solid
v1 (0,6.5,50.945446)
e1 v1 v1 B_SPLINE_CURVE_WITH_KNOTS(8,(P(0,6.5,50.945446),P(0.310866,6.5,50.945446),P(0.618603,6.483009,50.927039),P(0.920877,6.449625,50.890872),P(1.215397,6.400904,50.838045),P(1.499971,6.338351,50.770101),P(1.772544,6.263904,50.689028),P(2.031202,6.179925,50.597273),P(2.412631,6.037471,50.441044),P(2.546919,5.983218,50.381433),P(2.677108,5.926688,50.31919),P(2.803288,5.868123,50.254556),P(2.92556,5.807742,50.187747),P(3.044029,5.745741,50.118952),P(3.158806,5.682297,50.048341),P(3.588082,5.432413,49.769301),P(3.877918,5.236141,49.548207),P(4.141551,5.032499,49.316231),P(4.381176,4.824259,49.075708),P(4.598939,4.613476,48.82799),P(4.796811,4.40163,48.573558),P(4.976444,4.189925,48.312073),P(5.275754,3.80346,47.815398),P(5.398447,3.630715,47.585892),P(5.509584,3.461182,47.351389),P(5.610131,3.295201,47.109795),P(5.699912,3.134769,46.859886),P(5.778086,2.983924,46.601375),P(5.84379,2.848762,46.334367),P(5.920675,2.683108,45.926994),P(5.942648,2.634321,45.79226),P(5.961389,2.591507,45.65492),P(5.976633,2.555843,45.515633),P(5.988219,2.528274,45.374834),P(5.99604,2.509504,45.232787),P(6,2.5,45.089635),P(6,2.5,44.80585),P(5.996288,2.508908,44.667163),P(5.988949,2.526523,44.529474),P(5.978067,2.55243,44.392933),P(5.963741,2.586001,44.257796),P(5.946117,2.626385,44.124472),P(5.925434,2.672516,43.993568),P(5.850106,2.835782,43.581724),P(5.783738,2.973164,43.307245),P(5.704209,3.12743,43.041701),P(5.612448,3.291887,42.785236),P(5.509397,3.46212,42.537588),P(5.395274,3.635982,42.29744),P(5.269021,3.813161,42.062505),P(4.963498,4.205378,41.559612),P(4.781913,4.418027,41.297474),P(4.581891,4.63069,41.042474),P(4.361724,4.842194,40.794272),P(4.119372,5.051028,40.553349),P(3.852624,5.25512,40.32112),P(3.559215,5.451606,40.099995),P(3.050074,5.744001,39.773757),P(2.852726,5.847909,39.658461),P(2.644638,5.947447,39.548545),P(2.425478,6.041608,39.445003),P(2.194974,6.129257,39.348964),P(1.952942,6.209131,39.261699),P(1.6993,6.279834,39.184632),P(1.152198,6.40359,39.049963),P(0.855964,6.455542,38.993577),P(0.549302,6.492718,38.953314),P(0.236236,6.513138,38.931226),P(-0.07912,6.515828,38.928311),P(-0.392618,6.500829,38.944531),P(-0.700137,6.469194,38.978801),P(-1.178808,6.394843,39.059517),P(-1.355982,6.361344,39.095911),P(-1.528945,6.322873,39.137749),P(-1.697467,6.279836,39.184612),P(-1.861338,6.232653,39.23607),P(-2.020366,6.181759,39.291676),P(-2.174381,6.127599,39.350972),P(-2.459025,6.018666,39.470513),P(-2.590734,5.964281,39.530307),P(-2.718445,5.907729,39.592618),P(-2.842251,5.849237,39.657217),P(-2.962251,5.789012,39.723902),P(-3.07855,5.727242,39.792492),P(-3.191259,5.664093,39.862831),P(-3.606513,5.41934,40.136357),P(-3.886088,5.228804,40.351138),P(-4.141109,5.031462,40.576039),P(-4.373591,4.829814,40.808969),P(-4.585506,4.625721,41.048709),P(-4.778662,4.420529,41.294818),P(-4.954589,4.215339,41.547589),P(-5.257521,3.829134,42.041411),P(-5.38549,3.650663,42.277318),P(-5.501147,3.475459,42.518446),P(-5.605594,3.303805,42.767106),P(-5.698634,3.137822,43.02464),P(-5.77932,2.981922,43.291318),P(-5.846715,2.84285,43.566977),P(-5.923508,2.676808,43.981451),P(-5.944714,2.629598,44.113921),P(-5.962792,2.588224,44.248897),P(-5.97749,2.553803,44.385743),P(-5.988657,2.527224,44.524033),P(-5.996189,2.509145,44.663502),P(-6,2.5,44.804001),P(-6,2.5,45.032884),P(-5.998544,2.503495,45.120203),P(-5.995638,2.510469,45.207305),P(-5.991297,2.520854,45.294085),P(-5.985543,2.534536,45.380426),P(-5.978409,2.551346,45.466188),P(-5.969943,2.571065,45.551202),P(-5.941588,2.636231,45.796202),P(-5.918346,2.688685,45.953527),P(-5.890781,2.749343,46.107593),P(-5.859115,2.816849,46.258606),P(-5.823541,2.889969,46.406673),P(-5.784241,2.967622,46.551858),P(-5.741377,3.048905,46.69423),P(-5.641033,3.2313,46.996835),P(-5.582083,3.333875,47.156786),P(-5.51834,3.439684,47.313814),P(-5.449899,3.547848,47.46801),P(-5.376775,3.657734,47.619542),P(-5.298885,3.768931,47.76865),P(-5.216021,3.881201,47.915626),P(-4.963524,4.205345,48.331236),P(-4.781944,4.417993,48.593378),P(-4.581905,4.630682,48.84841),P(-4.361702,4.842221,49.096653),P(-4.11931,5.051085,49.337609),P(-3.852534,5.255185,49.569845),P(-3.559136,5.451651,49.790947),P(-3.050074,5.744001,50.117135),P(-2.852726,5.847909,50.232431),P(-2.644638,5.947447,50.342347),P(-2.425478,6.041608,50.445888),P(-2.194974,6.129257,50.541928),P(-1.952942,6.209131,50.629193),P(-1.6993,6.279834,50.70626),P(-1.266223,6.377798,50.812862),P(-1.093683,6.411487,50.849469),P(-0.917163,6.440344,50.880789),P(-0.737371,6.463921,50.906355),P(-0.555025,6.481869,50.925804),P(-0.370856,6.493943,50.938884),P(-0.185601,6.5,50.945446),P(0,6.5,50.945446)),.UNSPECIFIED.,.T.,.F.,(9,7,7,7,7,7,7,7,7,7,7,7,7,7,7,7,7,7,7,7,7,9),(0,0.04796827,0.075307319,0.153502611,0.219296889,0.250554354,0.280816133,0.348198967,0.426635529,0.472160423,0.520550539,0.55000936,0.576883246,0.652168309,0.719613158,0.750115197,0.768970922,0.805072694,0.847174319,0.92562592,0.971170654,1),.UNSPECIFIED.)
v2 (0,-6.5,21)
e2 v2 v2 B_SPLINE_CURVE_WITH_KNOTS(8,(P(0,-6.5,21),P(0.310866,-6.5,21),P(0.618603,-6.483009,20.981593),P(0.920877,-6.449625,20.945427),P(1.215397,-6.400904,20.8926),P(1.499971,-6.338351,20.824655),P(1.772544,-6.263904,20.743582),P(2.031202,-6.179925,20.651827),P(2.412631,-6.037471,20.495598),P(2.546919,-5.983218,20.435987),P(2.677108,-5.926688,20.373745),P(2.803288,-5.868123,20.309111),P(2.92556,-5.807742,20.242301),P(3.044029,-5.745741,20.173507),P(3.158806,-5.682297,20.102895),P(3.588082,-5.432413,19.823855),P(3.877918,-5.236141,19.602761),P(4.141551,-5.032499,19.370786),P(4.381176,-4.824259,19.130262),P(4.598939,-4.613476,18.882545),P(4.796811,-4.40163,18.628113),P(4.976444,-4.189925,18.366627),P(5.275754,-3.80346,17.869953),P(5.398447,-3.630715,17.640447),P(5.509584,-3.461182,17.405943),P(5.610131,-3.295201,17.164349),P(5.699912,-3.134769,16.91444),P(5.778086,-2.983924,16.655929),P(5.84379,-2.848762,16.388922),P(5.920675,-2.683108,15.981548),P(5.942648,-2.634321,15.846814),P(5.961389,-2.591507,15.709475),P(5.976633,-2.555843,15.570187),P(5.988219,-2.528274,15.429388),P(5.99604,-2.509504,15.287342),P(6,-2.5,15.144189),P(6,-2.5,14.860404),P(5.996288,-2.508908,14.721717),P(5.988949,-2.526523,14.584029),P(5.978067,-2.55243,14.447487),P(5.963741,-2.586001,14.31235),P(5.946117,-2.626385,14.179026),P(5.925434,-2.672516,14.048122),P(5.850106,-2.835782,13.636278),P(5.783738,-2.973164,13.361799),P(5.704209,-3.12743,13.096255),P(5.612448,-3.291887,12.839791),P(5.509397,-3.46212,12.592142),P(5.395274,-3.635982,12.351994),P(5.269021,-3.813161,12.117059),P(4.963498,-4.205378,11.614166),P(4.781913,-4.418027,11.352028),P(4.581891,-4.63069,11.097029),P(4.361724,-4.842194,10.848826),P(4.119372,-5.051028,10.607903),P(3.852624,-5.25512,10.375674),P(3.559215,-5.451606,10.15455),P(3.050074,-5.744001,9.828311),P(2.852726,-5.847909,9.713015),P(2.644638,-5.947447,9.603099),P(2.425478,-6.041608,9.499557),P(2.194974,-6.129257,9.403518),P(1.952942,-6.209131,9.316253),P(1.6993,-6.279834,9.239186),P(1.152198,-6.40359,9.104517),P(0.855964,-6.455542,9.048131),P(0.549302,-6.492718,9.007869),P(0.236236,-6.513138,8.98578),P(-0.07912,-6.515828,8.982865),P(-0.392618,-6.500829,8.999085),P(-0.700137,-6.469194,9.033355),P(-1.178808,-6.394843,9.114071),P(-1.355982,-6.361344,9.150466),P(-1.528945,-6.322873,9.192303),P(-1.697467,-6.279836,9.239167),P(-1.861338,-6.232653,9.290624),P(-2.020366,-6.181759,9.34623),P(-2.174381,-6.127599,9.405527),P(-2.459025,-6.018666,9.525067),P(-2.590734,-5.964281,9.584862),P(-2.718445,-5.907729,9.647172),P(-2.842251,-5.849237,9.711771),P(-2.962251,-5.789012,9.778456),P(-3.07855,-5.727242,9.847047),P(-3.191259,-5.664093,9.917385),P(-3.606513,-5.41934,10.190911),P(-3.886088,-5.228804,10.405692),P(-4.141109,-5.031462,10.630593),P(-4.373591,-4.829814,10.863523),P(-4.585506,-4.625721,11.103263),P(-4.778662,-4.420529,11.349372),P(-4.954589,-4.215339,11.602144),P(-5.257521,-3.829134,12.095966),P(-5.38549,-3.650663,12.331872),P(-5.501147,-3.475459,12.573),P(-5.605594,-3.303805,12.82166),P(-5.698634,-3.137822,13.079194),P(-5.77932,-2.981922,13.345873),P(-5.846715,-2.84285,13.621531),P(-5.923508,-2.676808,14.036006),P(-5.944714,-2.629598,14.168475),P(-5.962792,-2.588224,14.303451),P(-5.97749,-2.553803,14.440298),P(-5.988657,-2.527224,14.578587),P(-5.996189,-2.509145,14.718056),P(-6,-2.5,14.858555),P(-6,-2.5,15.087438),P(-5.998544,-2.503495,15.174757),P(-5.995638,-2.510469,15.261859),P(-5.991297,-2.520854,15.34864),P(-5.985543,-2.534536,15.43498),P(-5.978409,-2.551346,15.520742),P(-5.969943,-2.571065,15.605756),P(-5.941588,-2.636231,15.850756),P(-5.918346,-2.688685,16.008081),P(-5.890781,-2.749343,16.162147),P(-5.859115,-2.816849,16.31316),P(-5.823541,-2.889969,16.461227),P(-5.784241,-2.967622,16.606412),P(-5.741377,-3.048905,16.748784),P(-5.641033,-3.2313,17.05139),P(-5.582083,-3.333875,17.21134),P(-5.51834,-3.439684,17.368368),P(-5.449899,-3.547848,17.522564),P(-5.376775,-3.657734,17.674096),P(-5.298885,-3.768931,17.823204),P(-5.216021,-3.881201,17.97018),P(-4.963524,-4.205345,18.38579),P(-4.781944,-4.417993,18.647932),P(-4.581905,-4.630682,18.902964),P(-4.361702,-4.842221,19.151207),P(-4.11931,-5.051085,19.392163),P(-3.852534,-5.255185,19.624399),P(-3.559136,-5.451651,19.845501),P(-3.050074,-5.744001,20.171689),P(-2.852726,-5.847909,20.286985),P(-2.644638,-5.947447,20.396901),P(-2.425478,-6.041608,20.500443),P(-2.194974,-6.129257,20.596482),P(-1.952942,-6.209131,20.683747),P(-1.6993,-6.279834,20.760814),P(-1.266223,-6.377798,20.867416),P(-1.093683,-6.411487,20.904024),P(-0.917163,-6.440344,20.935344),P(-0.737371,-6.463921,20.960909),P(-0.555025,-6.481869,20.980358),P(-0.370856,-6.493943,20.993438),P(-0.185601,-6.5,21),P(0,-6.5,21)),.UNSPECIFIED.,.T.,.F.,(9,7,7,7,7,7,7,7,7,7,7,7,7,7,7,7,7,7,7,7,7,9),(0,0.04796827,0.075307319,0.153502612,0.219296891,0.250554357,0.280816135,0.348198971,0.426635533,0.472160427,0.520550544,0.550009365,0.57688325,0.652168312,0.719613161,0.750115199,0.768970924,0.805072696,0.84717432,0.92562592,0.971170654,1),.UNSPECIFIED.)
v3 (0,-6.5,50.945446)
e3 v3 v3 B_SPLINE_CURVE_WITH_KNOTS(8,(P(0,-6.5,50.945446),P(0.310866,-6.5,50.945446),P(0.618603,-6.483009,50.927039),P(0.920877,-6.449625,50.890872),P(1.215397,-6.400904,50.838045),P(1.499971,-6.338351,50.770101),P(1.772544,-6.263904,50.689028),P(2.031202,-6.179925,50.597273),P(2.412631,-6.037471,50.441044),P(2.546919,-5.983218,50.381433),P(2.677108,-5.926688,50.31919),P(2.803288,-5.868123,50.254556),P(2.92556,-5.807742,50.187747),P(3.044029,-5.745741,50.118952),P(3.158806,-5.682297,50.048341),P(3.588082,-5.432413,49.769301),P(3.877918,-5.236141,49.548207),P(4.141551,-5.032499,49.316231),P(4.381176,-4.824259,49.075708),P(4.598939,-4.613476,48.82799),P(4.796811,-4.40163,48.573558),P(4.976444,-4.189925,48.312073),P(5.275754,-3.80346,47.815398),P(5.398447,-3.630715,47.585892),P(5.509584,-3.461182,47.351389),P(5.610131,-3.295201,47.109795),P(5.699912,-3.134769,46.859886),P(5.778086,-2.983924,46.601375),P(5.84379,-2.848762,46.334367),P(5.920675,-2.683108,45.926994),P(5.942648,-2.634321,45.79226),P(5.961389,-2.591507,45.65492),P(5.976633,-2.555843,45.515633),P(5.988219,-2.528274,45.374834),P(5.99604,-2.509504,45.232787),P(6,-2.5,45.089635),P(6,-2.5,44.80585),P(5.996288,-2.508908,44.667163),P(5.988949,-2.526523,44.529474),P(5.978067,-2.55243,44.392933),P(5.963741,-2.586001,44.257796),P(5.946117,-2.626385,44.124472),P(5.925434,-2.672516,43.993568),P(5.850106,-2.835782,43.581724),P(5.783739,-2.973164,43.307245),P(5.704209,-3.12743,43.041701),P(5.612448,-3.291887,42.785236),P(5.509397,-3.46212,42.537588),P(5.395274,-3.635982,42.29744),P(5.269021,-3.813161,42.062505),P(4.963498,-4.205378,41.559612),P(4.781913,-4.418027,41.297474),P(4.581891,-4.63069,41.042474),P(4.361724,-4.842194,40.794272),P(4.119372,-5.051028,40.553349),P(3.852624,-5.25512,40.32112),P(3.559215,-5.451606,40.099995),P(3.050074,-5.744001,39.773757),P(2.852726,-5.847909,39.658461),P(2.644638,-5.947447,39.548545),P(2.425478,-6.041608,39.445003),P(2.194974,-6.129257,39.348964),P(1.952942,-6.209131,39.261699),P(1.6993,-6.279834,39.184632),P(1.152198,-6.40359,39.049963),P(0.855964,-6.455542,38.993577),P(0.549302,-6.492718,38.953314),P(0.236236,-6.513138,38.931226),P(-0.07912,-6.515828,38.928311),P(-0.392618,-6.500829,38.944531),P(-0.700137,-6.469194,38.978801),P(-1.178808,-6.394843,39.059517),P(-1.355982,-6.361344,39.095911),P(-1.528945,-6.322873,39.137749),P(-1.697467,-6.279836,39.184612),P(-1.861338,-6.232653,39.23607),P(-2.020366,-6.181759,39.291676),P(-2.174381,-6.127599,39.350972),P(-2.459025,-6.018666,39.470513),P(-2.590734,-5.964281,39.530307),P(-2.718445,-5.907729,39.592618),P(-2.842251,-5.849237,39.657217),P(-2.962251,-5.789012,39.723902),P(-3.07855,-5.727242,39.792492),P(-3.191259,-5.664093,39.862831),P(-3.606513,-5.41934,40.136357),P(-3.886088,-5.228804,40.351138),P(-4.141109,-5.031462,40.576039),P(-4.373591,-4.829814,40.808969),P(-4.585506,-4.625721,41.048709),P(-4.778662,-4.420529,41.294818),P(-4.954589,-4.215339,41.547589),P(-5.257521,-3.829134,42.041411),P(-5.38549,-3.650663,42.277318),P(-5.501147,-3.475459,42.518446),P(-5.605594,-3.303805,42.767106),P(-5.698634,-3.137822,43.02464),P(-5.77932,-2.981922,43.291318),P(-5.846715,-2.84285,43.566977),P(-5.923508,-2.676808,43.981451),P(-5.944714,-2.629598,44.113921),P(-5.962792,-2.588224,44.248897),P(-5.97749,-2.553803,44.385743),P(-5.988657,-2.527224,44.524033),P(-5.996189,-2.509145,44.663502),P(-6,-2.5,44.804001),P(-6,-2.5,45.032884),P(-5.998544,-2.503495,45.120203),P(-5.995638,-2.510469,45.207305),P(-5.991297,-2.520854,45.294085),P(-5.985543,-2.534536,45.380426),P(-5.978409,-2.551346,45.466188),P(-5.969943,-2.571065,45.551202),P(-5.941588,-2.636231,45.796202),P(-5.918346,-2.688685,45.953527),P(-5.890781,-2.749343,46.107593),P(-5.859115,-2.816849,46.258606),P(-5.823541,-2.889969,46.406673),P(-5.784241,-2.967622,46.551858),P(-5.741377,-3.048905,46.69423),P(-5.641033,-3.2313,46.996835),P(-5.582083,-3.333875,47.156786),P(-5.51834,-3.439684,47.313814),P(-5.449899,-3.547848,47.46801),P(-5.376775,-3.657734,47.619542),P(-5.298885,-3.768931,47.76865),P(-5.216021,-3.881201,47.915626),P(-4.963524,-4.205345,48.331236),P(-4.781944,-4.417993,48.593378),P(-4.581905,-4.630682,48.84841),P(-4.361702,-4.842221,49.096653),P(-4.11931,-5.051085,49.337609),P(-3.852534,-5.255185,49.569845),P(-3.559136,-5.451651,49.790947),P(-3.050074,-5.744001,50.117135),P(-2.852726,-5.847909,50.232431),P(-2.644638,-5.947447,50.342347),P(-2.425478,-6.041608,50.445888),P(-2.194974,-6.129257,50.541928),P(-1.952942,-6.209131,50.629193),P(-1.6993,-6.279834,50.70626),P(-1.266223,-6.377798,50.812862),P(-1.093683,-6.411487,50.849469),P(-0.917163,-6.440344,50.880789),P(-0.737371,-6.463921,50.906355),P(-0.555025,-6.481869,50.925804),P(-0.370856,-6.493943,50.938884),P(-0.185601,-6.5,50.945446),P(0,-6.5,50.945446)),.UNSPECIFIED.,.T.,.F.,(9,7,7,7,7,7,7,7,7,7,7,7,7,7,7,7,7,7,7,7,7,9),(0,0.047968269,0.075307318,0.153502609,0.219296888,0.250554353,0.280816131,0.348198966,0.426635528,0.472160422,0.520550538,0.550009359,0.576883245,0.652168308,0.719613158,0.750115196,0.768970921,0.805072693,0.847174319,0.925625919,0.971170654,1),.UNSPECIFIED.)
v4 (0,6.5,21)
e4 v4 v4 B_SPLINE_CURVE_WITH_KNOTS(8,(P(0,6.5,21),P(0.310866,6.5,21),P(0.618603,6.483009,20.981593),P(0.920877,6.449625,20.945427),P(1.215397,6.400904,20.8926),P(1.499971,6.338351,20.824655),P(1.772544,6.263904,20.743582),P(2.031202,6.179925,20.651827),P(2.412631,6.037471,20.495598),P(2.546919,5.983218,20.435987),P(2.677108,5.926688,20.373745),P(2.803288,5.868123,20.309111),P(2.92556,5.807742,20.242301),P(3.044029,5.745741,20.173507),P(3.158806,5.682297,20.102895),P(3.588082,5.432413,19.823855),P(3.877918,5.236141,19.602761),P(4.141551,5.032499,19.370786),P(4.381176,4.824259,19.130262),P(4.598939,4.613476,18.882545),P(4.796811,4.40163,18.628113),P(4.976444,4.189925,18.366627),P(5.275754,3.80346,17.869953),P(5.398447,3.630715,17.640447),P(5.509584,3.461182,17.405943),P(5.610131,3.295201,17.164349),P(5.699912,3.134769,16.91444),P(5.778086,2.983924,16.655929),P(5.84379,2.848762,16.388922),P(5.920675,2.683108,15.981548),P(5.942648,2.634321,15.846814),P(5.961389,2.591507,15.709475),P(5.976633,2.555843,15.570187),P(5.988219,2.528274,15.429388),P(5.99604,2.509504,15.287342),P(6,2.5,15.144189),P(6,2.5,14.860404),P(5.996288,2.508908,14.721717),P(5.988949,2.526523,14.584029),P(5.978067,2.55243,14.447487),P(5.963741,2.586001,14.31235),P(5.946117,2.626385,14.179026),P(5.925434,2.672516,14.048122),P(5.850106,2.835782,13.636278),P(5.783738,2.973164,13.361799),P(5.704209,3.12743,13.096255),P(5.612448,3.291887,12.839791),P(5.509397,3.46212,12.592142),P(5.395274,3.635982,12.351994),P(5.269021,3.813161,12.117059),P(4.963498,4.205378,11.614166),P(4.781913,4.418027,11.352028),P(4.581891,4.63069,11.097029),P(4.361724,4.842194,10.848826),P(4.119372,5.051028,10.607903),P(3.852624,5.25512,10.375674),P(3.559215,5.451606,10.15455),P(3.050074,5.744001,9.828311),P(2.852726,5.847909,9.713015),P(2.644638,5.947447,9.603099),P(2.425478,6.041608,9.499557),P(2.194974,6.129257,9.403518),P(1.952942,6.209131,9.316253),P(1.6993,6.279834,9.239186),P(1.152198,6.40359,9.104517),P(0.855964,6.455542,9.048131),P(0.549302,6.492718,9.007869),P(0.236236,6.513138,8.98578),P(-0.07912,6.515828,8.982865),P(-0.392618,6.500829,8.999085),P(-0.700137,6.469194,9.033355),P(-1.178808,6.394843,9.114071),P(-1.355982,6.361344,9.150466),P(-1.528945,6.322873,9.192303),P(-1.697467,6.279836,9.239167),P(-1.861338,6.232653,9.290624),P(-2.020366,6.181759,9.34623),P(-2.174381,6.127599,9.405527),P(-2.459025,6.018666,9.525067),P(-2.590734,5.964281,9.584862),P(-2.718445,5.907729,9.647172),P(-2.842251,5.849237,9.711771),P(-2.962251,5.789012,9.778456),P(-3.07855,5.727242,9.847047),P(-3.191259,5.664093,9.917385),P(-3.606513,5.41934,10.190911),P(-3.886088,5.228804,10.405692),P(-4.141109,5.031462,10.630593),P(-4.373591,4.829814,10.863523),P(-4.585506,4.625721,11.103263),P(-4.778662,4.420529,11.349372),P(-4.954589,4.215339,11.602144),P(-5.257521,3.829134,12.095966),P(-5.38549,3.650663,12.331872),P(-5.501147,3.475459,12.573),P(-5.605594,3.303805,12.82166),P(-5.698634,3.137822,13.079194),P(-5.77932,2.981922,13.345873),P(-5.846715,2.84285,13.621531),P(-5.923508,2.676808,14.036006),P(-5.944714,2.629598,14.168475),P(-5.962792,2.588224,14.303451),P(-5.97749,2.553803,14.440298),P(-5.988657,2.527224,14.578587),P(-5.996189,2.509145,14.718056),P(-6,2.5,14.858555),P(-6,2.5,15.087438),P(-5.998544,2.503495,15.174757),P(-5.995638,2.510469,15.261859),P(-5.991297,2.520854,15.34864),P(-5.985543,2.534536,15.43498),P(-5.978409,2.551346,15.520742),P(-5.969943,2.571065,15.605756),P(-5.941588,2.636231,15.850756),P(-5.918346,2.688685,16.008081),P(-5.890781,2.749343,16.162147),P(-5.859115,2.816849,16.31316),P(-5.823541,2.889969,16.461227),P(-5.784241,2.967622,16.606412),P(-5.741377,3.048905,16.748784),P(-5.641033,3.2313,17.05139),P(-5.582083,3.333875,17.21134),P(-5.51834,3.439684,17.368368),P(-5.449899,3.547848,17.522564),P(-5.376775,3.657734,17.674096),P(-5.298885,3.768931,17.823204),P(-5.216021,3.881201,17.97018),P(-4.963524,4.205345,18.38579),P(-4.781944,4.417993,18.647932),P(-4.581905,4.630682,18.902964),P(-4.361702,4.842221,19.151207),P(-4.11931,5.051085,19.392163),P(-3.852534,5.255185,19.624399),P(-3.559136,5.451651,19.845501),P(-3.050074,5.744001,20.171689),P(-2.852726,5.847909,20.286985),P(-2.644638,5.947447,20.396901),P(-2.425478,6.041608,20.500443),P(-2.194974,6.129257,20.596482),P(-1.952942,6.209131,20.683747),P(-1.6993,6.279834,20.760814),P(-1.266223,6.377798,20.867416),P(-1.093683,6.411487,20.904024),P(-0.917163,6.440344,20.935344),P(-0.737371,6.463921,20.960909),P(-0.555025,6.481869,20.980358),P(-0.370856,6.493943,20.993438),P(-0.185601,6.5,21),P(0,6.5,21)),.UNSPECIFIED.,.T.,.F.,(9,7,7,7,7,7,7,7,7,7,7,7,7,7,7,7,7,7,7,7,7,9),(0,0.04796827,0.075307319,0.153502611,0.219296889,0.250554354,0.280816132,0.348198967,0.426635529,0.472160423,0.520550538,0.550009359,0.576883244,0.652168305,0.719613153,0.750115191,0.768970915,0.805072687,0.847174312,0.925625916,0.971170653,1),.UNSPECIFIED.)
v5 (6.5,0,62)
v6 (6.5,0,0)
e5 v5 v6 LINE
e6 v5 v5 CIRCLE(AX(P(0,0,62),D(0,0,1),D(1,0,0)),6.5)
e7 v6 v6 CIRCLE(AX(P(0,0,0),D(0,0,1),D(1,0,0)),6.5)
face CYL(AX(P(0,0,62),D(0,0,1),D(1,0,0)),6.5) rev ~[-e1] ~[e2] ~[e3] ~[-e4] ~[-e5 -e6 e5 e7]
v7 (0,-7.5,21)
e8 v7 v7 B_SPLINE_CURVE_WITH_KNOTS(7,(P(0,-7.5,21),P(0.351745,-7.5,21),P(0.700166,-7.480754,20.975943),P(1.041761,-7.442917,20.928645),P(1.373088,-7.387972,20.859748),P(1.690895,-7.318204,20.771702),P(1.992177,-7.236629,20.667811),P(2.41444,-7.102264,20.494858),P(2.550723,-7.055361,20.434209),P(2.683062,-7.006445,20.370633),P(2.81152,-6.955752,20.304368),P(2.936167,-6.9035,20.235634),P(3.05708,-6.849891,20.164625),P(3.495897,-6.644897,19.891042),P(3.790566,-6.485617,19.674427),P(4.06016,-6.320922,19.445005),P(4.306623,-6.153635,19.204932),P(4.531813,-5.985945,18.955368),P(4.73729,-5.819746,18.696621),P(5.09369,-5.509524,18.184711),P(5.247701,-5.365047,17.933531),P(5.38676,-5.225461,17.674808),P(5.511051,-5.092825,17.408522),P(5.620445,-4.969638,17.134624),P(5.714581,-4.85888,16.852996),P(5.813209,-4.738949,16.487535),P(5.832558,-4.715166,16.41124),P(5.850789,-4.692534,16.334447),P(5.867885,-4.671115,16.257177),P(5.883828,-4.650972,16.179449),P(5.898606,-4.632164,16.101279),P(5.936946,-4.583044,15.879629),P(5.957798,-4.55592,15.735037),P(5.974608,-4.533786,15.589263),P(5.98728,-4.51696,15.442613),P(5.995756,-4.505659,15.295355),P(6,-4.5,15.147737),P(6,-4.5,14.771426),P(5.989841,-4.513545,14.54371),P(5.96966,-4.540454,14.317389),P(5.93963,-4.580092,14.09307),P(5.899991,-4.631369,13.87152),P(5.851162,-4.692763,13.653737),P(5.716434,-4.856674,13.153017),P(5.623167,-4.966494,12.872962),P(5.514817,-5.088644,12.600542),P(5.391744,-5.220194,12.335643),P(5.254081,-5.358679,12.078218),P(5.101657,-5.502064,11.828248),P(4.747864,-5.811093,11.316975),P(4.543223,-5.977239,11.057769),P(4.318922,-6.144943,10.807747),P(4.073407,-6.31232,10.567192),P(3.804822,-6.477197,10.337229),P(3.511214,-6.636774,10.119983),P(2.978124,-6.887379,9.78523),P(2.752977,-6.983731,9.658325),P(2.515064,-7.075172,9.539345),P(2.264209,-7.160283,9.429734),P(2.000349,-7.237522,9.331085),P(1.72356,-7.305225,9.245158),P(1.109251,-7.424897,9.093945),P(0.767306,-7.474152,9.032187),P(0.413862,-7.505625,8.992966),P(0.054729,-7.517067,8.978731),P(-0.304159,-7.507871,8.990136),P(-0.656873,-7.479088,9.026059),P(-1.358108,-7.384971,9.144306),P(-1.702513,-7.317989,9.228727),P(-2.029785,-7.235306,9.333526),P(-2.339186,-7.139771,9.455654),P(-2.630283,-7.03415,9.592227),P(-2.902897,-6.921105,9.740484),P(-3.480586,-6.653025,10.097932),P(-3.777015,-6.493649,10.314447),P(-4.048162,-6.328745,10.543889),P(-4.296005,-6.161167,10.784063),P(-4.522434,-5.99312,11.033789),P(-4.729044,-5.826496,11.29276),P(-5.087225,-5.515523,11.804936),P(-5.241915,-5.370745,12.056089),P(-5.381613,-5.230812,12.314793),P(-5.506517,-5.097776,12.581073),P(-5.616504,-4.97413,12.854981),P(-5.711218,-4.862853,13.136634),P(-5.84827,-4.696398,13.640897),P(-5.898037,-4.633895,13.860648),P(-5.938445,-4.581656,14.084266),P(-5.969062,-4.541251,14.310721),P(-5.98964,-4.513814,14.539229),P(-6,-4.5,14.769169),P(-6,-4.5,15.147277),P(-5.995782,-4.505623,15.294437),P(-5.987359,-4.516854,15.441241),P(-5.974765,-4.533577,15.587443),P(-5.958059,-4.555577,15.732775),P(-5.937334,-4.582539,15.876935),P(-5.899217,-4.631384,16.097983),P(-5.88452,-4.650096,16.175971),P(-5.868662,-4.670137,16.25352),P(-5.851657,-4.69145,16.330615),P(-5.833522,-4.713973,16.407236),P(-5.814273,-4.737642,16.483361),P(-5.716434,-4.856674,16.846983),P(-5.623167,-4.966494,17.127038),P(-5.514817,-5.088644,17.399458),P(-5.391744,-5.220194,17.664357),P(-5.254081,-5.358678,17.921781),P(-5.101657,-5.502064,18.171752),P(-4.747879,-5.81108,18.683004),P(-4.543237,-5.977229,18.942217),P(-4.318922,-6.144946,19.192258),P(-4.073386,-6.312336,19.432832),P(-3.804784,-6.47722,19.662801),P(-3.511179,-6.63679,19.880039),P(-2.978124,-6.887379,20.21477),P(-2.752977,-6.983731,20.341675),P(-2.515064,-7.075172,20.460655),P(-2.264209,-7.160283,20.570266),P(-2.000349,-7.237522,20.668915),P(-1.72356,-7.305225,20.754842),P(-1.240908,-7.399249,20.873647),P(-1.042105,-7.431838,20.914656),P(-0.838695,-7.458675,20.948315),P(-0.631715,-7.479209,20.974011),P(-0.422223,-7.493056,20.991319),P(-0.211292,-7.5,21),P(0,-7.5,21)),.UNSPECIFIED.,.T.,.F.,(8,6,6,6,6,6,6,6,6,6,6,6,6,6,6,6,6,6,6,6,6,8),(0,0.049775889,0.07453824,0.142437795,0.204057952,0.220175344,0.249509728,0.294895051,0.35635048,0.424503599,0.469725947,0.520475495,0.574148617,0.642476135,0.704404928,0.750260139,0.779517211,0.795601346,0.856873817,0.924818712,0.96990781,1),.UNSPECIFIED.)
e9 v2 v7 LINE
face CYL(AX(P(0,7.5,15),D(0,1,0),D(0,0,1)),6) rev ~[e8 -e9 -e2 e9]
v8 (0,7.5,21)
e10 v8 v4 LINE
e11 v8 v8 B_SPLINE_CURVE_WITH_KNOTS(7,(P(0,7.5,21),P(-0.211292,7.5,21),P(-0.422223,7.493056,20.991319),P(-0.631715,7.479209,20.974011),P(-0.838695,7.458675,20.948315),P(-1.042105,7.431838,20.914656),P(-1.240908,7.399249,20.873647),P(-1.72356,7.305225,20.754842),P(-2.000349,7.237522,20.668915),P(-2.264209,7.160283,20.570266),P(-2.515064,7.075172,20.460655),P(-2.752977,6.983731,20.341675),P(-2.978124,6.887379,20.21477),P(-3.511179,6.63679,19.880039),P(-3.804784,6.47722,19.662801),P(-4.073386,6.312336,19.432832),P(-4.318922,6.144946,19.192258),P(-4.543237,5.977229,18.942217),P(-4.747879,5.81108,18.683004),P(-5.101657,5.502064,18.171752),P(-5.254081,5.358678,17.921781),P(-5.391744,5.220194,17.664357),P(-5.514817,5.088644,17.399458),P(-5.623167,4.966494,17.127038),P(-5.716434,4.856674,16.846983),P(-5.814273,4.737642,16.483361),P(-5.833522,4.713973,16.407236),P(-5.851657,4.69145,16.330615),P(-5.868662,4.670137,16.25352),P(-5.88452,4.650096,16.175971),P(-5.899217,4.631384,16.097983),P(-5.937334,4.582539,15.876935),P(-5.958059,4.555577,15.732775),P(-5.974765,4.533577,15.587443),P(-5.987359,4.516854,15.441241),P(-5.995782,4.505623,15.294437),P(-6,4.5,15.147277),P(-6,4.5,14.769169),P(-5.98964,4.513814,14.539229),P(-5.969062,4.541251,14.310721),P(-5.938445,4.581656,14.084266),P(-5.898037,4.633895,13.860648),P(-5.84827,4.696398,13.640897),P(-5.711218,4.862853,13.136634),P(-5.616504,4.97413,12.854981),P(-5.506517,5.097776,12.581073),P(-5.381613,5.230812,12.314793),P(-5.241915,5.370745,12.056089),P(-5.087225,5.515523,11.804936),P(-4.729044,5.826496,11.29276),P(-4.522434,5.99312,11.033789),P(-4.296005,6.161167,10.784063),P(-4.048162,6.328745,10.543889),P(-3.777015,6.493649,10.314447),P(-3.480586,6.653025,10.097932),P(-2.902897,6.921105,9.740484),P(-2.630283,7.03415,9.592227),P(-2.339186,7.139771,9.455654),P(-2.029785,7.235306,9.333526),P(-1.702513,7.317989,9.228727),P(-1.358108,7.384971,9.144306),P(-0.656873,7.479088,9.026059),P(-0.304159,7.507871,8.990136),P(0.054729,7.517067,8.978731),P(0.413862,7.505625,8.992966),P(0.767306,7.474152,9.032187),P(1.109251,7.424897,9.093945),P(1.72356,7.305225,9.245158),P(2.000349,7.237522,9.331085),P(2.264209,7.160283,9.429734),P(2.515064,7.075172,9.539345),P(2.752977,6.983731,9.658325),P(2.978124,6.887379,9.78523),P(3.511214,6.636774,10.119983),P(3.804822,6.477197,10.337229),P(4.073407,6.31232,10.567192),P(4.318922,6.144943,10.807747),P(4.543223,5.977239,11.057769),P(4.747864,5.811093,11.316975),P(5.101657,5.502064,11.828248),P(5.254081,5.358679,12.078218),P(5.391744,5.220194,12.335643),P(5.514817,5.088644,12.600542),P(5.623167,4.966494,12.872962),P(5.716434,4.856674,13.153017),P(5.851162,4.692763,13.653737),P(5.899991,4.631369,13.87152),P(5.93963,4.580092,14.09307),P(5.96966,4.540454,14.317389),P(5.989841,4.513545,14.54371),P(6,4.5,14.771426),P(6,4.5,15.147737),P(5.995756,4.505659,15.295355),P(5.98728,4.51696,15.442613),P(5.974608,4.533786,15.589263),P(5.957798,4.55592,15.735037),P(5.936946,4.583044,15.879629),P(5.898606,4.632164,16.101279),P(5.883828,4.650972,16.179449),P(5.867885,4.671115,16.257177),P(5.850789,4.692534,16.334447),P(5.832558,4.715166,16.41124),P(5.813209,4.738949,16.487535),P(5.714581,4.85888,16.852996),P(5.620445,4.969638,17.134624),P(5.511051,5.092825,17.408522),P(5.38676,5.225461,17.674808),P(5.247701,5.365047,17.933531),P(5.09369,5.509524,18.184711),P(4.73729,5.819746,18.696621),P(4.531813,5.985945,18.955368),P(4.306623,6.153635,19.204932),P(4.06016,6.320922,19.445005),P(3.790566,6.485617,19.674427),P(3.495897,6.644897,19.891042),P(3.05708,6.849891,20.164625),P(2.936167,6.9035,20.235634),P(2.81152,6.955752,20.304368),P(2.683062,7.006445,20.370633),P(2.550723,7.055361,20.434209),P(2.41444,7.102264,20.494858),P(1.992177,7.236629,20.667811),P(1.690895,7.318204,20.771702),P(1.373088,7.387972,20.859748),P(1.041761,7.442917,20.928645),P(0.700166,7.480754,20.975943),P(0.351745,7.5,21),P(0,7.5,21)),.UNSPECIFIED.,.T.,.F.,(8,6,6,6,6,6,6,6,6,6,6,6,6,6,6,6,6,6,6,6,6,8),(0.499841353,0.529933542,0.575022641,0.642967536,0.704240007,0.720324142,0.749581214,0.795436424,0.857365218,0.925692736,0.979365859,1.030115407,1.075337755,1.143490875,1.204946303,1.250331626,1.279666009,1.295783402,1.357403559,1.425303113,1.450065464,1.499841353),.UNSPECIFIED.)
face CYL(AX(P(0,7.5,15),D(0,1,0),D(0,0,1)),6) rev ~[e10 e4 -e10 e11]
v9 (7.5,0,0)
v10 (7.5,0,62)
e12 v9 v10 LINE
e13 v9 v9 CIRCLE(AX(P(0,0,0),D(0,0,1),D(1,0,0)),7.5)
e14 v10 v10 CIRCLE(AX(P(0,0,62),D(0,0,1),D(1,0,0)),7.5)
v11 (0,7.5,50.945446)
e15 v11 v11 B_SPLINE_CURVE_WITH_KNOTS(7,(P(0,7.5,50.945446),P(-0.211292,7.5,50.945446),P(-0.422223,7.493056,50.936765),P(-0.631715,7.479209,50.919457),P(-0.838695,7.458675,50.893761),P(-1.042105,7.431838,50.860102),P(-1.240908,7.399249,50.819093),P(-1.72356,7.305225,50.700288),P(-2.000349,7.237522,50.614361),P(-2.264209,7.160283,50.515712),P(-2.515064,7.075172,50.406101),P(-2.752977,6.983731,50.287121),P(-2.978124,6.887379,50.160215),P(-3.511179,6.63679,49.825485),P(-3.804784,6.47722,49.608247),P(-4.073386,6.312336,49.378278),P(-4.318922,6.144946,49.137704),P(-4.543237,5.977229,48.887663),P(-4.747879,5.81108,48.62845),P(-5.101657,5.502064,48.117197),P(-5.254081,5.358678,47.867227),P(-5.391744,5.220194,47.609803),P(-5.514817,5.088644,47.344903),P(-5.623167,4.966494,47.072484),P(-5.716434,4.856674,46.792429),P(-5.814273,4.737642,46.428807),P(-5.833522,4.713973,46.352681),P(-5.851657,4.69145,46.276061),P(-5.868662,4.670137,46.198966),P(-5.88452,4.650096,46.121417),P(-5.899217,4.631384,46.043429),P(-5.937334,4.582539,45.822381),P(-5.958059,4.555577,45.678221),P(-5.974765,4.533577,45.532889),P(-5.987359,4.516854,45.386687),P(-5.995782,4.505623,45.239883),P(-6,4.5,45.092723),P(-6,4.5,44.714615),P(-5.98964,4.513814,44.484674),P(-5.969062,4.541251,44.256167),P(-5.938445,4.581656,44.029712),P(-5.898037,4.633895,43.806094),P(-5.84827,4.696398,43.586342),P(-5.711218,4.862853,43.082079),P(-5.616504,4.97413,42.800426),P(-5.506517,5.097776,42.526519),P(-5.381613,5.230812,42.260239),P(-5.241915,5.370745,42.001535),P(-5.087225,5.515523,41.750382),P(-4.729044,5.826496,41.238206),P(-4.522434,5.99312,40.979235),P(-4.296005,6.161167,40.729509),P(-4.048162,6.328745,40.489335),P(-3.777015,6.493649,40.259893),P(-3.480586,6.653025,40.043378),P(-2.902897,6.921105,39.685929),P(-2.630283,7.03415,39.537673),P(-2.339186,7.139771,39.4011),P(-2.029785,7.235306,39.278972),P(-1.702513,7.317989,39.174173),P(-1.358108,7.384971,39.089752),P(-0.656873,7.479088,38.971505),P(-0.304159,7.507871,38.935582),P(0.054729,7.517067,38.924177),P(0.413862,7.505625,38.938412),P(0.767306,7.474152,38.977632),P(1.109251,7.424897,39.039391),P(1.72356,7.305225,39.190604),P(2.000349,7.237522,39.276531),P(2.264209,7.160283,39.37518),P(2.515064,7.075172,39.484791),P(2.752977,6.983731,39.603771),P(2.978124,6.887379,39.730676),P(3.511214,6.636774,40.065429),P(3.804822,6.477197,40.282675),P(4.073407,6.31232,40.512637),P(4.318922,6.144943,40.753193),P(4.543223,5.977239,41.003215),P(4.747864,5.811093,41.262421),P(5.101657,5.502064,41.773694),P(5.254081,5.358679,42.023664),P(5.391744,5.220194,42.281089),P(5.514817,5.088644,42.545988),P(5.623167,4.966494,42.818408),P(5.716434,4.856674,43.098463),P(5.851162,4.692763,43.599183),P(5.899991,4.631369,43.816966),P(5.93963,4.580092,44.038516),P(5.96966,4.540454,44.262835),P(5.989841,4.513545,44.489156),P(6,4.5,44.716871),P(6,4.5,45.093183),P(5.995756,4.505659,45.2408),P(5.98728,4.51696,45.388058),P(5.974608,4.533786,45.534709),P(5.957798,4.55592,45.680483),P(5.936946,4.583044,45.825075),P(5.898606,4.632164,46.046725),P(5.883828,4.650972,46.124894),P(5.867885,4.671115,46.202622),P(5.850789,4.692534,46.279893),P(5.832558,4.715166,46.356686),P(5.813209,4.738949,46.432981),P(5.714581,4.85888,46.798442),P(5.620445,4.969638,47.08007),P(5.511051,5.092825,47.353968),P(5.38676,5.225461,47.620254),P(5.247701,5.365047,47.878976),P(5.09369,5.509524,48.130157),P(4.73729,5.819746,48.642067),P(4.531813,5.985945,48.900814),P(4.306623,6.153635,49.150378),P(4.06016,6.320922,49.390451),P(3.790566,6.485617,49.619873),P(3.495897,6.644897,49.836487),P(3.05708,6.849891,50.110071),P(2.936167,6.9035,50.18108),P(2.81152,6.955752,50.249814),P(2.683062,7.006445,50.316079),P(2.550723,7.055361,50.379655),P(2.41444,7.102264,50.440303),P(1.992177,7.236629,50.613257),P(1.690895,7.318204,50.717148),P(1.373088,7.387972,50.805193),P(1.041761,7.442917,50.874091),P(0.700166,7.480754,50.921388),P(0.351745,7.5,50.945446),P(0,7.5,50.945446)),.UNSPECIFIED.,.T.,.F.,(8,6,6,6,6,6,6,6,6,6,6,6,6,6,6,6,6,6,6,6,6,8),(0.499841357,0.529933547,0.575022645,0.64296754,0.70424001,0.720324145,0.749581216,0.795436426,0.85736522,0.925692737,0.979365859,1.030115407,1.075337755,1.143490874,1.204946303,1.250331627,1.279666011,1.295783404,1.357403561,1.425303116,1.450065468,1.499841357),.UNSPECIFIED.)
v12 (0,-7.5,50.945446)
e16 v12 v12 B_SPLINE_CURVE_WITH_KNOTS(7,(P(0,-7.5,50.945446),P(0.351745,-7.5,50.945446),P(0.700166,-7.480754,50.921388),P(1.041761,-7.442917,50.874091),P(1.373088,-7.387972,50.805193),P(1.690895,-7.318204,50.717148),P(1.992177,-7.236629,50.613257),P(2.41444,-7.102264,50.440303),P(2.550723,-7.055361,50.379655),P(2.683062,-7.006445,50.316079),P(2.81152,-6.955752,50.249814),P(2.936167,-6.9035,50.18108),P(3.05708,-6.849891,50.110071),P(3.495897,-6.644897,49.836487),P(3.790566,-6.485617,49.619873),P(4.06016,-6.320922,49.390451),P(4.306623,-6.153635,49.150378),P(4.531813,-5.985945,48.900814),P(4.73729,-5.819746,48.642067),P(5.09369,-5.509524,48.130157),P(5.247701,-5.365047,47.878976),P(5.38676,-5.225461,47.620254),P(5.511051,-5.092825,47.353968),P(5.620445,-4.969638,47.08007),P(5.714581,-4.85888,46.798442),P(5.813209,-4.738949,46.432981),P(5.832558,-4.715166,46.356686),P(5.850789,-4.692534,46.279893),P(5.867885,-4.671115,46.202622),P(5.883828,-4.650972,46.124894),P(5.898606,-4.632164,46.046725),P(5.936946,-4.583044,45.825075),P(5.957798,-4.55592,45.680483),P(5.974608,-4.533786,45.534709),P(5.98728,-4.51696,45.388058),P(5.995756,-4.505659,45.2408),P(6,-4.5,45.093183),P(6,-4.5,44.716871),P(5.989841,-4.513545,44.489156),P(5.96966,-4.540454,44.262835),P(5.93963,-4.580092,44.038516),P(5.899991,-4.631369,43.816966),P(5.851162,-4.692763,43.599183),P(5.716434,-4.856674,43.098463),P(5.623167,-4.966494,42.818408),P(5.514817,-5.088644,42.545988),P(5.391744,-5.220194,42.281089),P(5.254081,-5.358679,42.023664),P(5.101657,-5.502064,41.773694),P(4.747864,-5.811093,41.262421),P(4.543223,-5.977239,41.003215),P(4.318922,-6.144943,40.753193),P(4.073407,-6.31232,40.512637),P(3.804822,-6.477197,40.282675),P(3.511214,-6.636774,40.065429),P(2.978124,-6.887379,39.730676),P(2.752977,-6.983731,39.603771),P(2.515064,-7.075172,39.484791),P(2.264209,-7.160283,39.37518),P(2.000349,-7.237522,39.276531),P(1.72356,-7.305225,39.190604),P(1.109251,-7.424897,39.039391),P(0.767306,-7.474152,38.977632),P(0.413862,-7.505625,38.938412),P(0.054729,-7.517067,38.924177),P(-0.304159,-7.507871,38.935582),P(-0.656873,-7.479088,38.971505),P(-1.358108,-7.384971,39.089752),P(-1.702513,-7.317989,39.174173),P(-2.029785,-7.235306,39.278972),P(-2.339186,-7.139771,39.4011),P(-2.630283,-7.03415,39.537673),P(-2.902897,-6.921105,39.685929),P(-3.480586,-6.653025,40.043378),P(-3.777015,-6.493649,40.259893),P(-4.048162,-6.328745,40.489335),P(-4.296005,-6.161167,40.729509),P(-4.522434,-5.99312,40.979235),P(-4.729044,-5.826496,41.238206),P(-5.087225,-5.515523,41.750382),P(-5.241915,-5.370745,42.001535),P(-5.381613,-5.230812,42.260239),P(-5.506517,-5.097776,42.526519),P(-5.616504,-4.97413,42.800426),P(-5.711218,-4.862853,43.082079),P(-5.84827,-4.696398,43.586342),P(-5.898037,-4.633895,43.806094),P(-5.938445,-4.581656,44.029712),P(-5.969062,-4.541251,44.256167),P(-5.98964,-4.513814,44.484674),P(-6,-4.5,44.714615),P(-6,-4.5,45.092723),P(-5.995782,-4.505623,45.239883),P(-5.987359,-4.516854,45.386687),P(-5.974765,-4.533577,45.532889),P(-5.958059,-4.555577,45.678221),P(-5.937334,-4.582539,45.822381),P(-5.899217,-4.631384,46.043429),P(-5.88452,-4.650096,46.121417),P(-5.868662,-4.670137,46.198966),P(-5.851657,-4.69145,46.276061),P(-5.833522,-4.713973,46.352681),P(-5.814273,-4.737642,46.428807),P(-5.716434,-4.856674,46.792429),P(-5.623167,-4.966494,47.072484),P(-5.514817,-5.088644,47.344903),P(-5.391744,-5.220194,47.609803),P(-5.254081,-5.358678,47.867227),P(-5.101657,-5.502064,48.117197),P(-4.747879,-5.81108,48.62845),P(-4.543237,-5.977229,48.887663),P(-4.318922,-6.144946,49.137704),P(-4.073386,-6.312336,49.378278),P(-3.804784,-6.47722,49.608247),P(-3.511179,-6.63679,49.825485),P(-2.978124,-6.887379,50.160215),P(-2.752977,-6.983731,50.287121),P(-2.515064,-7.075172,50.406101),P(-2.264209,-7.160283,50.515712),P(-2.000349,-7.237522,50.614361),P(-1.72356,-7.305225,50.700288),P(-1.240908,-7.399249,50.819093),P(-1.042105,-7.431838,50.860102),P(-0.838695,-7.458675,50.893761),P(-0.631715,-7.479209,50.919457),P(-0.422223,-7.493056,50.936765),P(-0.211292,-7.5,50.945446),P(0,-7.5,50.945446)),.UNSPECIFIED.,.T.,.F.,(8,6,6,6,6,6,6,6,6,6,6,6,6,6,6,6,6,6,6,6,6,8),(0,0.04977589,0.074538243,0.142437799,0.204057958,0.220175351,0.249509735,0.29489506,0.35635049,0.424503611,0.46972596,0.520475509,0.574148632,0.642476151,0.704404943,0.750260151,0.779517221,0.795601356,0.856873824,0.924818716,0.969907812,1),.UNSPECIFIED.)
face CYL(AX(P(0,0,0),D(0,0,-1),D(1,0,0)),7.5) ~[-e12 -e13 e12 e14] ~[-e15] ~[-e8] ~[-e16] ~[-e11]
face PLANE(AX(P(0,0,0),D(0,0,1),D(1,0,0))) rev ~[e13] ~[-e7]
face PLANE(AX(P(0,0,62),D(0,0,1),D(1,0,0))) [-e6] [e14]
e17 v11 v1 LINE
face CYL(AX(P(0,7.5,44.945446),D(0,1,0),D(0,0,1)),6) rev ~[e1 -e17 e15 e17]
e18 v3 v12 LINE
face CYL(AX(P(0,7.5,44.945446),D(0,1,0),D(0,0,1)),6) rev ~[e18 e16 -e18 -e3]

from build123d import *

# Parameters (mm, degrees)
SKETCH1_R           = 7.5
BOSS_EXTRUDE1_DEPTH = 62
SKETCH2_R           = 6.5
CUT_EXTRUDE1_DEPTH  = 63.900715417
SKETCH3_R           = 6
CUT_EXTRUDE2_DEPTH  = 65.228109111


with BuildPart() as part:
    # Sketch1 → Boss-Extrude1 (new body)
    with BuildSketch(Plane.XY):
        Circle(SKETCH1_R)
    extrude(amount=BOSS_EXTRUDE1_DEPTH)

    # Sketch2 → Cut-Extrude1 (cut, through all)
    with BuildSketch(Plane.XY.offset(62)):
        Circle(SKETCH2_R)
    extrude(amount=-CUT_EXTRUDE1_DEPTH, mode=Mode.SUBTRACT)

    # Sketch3 → Cut-Extrude2 (cut, through all)
    with BuildSketch(Plane(origin=(0, 7.5, 0), x_dir=(1, 0, 0), z_dir=(0, 1, 0))):
        with Locations(Location((0, -15, 0), (0, 0, 270))):
            Circle(SKETCH3_R)
        with Locations(Location((0, -44.945445828, 0), (0, 0, 270))):
            Circle(SKETCH3_R)
    extrude(amount=-CUT_EXTRUDE2_DEPTH, mode=Mode.SUBTRACT)


solid = part.part
